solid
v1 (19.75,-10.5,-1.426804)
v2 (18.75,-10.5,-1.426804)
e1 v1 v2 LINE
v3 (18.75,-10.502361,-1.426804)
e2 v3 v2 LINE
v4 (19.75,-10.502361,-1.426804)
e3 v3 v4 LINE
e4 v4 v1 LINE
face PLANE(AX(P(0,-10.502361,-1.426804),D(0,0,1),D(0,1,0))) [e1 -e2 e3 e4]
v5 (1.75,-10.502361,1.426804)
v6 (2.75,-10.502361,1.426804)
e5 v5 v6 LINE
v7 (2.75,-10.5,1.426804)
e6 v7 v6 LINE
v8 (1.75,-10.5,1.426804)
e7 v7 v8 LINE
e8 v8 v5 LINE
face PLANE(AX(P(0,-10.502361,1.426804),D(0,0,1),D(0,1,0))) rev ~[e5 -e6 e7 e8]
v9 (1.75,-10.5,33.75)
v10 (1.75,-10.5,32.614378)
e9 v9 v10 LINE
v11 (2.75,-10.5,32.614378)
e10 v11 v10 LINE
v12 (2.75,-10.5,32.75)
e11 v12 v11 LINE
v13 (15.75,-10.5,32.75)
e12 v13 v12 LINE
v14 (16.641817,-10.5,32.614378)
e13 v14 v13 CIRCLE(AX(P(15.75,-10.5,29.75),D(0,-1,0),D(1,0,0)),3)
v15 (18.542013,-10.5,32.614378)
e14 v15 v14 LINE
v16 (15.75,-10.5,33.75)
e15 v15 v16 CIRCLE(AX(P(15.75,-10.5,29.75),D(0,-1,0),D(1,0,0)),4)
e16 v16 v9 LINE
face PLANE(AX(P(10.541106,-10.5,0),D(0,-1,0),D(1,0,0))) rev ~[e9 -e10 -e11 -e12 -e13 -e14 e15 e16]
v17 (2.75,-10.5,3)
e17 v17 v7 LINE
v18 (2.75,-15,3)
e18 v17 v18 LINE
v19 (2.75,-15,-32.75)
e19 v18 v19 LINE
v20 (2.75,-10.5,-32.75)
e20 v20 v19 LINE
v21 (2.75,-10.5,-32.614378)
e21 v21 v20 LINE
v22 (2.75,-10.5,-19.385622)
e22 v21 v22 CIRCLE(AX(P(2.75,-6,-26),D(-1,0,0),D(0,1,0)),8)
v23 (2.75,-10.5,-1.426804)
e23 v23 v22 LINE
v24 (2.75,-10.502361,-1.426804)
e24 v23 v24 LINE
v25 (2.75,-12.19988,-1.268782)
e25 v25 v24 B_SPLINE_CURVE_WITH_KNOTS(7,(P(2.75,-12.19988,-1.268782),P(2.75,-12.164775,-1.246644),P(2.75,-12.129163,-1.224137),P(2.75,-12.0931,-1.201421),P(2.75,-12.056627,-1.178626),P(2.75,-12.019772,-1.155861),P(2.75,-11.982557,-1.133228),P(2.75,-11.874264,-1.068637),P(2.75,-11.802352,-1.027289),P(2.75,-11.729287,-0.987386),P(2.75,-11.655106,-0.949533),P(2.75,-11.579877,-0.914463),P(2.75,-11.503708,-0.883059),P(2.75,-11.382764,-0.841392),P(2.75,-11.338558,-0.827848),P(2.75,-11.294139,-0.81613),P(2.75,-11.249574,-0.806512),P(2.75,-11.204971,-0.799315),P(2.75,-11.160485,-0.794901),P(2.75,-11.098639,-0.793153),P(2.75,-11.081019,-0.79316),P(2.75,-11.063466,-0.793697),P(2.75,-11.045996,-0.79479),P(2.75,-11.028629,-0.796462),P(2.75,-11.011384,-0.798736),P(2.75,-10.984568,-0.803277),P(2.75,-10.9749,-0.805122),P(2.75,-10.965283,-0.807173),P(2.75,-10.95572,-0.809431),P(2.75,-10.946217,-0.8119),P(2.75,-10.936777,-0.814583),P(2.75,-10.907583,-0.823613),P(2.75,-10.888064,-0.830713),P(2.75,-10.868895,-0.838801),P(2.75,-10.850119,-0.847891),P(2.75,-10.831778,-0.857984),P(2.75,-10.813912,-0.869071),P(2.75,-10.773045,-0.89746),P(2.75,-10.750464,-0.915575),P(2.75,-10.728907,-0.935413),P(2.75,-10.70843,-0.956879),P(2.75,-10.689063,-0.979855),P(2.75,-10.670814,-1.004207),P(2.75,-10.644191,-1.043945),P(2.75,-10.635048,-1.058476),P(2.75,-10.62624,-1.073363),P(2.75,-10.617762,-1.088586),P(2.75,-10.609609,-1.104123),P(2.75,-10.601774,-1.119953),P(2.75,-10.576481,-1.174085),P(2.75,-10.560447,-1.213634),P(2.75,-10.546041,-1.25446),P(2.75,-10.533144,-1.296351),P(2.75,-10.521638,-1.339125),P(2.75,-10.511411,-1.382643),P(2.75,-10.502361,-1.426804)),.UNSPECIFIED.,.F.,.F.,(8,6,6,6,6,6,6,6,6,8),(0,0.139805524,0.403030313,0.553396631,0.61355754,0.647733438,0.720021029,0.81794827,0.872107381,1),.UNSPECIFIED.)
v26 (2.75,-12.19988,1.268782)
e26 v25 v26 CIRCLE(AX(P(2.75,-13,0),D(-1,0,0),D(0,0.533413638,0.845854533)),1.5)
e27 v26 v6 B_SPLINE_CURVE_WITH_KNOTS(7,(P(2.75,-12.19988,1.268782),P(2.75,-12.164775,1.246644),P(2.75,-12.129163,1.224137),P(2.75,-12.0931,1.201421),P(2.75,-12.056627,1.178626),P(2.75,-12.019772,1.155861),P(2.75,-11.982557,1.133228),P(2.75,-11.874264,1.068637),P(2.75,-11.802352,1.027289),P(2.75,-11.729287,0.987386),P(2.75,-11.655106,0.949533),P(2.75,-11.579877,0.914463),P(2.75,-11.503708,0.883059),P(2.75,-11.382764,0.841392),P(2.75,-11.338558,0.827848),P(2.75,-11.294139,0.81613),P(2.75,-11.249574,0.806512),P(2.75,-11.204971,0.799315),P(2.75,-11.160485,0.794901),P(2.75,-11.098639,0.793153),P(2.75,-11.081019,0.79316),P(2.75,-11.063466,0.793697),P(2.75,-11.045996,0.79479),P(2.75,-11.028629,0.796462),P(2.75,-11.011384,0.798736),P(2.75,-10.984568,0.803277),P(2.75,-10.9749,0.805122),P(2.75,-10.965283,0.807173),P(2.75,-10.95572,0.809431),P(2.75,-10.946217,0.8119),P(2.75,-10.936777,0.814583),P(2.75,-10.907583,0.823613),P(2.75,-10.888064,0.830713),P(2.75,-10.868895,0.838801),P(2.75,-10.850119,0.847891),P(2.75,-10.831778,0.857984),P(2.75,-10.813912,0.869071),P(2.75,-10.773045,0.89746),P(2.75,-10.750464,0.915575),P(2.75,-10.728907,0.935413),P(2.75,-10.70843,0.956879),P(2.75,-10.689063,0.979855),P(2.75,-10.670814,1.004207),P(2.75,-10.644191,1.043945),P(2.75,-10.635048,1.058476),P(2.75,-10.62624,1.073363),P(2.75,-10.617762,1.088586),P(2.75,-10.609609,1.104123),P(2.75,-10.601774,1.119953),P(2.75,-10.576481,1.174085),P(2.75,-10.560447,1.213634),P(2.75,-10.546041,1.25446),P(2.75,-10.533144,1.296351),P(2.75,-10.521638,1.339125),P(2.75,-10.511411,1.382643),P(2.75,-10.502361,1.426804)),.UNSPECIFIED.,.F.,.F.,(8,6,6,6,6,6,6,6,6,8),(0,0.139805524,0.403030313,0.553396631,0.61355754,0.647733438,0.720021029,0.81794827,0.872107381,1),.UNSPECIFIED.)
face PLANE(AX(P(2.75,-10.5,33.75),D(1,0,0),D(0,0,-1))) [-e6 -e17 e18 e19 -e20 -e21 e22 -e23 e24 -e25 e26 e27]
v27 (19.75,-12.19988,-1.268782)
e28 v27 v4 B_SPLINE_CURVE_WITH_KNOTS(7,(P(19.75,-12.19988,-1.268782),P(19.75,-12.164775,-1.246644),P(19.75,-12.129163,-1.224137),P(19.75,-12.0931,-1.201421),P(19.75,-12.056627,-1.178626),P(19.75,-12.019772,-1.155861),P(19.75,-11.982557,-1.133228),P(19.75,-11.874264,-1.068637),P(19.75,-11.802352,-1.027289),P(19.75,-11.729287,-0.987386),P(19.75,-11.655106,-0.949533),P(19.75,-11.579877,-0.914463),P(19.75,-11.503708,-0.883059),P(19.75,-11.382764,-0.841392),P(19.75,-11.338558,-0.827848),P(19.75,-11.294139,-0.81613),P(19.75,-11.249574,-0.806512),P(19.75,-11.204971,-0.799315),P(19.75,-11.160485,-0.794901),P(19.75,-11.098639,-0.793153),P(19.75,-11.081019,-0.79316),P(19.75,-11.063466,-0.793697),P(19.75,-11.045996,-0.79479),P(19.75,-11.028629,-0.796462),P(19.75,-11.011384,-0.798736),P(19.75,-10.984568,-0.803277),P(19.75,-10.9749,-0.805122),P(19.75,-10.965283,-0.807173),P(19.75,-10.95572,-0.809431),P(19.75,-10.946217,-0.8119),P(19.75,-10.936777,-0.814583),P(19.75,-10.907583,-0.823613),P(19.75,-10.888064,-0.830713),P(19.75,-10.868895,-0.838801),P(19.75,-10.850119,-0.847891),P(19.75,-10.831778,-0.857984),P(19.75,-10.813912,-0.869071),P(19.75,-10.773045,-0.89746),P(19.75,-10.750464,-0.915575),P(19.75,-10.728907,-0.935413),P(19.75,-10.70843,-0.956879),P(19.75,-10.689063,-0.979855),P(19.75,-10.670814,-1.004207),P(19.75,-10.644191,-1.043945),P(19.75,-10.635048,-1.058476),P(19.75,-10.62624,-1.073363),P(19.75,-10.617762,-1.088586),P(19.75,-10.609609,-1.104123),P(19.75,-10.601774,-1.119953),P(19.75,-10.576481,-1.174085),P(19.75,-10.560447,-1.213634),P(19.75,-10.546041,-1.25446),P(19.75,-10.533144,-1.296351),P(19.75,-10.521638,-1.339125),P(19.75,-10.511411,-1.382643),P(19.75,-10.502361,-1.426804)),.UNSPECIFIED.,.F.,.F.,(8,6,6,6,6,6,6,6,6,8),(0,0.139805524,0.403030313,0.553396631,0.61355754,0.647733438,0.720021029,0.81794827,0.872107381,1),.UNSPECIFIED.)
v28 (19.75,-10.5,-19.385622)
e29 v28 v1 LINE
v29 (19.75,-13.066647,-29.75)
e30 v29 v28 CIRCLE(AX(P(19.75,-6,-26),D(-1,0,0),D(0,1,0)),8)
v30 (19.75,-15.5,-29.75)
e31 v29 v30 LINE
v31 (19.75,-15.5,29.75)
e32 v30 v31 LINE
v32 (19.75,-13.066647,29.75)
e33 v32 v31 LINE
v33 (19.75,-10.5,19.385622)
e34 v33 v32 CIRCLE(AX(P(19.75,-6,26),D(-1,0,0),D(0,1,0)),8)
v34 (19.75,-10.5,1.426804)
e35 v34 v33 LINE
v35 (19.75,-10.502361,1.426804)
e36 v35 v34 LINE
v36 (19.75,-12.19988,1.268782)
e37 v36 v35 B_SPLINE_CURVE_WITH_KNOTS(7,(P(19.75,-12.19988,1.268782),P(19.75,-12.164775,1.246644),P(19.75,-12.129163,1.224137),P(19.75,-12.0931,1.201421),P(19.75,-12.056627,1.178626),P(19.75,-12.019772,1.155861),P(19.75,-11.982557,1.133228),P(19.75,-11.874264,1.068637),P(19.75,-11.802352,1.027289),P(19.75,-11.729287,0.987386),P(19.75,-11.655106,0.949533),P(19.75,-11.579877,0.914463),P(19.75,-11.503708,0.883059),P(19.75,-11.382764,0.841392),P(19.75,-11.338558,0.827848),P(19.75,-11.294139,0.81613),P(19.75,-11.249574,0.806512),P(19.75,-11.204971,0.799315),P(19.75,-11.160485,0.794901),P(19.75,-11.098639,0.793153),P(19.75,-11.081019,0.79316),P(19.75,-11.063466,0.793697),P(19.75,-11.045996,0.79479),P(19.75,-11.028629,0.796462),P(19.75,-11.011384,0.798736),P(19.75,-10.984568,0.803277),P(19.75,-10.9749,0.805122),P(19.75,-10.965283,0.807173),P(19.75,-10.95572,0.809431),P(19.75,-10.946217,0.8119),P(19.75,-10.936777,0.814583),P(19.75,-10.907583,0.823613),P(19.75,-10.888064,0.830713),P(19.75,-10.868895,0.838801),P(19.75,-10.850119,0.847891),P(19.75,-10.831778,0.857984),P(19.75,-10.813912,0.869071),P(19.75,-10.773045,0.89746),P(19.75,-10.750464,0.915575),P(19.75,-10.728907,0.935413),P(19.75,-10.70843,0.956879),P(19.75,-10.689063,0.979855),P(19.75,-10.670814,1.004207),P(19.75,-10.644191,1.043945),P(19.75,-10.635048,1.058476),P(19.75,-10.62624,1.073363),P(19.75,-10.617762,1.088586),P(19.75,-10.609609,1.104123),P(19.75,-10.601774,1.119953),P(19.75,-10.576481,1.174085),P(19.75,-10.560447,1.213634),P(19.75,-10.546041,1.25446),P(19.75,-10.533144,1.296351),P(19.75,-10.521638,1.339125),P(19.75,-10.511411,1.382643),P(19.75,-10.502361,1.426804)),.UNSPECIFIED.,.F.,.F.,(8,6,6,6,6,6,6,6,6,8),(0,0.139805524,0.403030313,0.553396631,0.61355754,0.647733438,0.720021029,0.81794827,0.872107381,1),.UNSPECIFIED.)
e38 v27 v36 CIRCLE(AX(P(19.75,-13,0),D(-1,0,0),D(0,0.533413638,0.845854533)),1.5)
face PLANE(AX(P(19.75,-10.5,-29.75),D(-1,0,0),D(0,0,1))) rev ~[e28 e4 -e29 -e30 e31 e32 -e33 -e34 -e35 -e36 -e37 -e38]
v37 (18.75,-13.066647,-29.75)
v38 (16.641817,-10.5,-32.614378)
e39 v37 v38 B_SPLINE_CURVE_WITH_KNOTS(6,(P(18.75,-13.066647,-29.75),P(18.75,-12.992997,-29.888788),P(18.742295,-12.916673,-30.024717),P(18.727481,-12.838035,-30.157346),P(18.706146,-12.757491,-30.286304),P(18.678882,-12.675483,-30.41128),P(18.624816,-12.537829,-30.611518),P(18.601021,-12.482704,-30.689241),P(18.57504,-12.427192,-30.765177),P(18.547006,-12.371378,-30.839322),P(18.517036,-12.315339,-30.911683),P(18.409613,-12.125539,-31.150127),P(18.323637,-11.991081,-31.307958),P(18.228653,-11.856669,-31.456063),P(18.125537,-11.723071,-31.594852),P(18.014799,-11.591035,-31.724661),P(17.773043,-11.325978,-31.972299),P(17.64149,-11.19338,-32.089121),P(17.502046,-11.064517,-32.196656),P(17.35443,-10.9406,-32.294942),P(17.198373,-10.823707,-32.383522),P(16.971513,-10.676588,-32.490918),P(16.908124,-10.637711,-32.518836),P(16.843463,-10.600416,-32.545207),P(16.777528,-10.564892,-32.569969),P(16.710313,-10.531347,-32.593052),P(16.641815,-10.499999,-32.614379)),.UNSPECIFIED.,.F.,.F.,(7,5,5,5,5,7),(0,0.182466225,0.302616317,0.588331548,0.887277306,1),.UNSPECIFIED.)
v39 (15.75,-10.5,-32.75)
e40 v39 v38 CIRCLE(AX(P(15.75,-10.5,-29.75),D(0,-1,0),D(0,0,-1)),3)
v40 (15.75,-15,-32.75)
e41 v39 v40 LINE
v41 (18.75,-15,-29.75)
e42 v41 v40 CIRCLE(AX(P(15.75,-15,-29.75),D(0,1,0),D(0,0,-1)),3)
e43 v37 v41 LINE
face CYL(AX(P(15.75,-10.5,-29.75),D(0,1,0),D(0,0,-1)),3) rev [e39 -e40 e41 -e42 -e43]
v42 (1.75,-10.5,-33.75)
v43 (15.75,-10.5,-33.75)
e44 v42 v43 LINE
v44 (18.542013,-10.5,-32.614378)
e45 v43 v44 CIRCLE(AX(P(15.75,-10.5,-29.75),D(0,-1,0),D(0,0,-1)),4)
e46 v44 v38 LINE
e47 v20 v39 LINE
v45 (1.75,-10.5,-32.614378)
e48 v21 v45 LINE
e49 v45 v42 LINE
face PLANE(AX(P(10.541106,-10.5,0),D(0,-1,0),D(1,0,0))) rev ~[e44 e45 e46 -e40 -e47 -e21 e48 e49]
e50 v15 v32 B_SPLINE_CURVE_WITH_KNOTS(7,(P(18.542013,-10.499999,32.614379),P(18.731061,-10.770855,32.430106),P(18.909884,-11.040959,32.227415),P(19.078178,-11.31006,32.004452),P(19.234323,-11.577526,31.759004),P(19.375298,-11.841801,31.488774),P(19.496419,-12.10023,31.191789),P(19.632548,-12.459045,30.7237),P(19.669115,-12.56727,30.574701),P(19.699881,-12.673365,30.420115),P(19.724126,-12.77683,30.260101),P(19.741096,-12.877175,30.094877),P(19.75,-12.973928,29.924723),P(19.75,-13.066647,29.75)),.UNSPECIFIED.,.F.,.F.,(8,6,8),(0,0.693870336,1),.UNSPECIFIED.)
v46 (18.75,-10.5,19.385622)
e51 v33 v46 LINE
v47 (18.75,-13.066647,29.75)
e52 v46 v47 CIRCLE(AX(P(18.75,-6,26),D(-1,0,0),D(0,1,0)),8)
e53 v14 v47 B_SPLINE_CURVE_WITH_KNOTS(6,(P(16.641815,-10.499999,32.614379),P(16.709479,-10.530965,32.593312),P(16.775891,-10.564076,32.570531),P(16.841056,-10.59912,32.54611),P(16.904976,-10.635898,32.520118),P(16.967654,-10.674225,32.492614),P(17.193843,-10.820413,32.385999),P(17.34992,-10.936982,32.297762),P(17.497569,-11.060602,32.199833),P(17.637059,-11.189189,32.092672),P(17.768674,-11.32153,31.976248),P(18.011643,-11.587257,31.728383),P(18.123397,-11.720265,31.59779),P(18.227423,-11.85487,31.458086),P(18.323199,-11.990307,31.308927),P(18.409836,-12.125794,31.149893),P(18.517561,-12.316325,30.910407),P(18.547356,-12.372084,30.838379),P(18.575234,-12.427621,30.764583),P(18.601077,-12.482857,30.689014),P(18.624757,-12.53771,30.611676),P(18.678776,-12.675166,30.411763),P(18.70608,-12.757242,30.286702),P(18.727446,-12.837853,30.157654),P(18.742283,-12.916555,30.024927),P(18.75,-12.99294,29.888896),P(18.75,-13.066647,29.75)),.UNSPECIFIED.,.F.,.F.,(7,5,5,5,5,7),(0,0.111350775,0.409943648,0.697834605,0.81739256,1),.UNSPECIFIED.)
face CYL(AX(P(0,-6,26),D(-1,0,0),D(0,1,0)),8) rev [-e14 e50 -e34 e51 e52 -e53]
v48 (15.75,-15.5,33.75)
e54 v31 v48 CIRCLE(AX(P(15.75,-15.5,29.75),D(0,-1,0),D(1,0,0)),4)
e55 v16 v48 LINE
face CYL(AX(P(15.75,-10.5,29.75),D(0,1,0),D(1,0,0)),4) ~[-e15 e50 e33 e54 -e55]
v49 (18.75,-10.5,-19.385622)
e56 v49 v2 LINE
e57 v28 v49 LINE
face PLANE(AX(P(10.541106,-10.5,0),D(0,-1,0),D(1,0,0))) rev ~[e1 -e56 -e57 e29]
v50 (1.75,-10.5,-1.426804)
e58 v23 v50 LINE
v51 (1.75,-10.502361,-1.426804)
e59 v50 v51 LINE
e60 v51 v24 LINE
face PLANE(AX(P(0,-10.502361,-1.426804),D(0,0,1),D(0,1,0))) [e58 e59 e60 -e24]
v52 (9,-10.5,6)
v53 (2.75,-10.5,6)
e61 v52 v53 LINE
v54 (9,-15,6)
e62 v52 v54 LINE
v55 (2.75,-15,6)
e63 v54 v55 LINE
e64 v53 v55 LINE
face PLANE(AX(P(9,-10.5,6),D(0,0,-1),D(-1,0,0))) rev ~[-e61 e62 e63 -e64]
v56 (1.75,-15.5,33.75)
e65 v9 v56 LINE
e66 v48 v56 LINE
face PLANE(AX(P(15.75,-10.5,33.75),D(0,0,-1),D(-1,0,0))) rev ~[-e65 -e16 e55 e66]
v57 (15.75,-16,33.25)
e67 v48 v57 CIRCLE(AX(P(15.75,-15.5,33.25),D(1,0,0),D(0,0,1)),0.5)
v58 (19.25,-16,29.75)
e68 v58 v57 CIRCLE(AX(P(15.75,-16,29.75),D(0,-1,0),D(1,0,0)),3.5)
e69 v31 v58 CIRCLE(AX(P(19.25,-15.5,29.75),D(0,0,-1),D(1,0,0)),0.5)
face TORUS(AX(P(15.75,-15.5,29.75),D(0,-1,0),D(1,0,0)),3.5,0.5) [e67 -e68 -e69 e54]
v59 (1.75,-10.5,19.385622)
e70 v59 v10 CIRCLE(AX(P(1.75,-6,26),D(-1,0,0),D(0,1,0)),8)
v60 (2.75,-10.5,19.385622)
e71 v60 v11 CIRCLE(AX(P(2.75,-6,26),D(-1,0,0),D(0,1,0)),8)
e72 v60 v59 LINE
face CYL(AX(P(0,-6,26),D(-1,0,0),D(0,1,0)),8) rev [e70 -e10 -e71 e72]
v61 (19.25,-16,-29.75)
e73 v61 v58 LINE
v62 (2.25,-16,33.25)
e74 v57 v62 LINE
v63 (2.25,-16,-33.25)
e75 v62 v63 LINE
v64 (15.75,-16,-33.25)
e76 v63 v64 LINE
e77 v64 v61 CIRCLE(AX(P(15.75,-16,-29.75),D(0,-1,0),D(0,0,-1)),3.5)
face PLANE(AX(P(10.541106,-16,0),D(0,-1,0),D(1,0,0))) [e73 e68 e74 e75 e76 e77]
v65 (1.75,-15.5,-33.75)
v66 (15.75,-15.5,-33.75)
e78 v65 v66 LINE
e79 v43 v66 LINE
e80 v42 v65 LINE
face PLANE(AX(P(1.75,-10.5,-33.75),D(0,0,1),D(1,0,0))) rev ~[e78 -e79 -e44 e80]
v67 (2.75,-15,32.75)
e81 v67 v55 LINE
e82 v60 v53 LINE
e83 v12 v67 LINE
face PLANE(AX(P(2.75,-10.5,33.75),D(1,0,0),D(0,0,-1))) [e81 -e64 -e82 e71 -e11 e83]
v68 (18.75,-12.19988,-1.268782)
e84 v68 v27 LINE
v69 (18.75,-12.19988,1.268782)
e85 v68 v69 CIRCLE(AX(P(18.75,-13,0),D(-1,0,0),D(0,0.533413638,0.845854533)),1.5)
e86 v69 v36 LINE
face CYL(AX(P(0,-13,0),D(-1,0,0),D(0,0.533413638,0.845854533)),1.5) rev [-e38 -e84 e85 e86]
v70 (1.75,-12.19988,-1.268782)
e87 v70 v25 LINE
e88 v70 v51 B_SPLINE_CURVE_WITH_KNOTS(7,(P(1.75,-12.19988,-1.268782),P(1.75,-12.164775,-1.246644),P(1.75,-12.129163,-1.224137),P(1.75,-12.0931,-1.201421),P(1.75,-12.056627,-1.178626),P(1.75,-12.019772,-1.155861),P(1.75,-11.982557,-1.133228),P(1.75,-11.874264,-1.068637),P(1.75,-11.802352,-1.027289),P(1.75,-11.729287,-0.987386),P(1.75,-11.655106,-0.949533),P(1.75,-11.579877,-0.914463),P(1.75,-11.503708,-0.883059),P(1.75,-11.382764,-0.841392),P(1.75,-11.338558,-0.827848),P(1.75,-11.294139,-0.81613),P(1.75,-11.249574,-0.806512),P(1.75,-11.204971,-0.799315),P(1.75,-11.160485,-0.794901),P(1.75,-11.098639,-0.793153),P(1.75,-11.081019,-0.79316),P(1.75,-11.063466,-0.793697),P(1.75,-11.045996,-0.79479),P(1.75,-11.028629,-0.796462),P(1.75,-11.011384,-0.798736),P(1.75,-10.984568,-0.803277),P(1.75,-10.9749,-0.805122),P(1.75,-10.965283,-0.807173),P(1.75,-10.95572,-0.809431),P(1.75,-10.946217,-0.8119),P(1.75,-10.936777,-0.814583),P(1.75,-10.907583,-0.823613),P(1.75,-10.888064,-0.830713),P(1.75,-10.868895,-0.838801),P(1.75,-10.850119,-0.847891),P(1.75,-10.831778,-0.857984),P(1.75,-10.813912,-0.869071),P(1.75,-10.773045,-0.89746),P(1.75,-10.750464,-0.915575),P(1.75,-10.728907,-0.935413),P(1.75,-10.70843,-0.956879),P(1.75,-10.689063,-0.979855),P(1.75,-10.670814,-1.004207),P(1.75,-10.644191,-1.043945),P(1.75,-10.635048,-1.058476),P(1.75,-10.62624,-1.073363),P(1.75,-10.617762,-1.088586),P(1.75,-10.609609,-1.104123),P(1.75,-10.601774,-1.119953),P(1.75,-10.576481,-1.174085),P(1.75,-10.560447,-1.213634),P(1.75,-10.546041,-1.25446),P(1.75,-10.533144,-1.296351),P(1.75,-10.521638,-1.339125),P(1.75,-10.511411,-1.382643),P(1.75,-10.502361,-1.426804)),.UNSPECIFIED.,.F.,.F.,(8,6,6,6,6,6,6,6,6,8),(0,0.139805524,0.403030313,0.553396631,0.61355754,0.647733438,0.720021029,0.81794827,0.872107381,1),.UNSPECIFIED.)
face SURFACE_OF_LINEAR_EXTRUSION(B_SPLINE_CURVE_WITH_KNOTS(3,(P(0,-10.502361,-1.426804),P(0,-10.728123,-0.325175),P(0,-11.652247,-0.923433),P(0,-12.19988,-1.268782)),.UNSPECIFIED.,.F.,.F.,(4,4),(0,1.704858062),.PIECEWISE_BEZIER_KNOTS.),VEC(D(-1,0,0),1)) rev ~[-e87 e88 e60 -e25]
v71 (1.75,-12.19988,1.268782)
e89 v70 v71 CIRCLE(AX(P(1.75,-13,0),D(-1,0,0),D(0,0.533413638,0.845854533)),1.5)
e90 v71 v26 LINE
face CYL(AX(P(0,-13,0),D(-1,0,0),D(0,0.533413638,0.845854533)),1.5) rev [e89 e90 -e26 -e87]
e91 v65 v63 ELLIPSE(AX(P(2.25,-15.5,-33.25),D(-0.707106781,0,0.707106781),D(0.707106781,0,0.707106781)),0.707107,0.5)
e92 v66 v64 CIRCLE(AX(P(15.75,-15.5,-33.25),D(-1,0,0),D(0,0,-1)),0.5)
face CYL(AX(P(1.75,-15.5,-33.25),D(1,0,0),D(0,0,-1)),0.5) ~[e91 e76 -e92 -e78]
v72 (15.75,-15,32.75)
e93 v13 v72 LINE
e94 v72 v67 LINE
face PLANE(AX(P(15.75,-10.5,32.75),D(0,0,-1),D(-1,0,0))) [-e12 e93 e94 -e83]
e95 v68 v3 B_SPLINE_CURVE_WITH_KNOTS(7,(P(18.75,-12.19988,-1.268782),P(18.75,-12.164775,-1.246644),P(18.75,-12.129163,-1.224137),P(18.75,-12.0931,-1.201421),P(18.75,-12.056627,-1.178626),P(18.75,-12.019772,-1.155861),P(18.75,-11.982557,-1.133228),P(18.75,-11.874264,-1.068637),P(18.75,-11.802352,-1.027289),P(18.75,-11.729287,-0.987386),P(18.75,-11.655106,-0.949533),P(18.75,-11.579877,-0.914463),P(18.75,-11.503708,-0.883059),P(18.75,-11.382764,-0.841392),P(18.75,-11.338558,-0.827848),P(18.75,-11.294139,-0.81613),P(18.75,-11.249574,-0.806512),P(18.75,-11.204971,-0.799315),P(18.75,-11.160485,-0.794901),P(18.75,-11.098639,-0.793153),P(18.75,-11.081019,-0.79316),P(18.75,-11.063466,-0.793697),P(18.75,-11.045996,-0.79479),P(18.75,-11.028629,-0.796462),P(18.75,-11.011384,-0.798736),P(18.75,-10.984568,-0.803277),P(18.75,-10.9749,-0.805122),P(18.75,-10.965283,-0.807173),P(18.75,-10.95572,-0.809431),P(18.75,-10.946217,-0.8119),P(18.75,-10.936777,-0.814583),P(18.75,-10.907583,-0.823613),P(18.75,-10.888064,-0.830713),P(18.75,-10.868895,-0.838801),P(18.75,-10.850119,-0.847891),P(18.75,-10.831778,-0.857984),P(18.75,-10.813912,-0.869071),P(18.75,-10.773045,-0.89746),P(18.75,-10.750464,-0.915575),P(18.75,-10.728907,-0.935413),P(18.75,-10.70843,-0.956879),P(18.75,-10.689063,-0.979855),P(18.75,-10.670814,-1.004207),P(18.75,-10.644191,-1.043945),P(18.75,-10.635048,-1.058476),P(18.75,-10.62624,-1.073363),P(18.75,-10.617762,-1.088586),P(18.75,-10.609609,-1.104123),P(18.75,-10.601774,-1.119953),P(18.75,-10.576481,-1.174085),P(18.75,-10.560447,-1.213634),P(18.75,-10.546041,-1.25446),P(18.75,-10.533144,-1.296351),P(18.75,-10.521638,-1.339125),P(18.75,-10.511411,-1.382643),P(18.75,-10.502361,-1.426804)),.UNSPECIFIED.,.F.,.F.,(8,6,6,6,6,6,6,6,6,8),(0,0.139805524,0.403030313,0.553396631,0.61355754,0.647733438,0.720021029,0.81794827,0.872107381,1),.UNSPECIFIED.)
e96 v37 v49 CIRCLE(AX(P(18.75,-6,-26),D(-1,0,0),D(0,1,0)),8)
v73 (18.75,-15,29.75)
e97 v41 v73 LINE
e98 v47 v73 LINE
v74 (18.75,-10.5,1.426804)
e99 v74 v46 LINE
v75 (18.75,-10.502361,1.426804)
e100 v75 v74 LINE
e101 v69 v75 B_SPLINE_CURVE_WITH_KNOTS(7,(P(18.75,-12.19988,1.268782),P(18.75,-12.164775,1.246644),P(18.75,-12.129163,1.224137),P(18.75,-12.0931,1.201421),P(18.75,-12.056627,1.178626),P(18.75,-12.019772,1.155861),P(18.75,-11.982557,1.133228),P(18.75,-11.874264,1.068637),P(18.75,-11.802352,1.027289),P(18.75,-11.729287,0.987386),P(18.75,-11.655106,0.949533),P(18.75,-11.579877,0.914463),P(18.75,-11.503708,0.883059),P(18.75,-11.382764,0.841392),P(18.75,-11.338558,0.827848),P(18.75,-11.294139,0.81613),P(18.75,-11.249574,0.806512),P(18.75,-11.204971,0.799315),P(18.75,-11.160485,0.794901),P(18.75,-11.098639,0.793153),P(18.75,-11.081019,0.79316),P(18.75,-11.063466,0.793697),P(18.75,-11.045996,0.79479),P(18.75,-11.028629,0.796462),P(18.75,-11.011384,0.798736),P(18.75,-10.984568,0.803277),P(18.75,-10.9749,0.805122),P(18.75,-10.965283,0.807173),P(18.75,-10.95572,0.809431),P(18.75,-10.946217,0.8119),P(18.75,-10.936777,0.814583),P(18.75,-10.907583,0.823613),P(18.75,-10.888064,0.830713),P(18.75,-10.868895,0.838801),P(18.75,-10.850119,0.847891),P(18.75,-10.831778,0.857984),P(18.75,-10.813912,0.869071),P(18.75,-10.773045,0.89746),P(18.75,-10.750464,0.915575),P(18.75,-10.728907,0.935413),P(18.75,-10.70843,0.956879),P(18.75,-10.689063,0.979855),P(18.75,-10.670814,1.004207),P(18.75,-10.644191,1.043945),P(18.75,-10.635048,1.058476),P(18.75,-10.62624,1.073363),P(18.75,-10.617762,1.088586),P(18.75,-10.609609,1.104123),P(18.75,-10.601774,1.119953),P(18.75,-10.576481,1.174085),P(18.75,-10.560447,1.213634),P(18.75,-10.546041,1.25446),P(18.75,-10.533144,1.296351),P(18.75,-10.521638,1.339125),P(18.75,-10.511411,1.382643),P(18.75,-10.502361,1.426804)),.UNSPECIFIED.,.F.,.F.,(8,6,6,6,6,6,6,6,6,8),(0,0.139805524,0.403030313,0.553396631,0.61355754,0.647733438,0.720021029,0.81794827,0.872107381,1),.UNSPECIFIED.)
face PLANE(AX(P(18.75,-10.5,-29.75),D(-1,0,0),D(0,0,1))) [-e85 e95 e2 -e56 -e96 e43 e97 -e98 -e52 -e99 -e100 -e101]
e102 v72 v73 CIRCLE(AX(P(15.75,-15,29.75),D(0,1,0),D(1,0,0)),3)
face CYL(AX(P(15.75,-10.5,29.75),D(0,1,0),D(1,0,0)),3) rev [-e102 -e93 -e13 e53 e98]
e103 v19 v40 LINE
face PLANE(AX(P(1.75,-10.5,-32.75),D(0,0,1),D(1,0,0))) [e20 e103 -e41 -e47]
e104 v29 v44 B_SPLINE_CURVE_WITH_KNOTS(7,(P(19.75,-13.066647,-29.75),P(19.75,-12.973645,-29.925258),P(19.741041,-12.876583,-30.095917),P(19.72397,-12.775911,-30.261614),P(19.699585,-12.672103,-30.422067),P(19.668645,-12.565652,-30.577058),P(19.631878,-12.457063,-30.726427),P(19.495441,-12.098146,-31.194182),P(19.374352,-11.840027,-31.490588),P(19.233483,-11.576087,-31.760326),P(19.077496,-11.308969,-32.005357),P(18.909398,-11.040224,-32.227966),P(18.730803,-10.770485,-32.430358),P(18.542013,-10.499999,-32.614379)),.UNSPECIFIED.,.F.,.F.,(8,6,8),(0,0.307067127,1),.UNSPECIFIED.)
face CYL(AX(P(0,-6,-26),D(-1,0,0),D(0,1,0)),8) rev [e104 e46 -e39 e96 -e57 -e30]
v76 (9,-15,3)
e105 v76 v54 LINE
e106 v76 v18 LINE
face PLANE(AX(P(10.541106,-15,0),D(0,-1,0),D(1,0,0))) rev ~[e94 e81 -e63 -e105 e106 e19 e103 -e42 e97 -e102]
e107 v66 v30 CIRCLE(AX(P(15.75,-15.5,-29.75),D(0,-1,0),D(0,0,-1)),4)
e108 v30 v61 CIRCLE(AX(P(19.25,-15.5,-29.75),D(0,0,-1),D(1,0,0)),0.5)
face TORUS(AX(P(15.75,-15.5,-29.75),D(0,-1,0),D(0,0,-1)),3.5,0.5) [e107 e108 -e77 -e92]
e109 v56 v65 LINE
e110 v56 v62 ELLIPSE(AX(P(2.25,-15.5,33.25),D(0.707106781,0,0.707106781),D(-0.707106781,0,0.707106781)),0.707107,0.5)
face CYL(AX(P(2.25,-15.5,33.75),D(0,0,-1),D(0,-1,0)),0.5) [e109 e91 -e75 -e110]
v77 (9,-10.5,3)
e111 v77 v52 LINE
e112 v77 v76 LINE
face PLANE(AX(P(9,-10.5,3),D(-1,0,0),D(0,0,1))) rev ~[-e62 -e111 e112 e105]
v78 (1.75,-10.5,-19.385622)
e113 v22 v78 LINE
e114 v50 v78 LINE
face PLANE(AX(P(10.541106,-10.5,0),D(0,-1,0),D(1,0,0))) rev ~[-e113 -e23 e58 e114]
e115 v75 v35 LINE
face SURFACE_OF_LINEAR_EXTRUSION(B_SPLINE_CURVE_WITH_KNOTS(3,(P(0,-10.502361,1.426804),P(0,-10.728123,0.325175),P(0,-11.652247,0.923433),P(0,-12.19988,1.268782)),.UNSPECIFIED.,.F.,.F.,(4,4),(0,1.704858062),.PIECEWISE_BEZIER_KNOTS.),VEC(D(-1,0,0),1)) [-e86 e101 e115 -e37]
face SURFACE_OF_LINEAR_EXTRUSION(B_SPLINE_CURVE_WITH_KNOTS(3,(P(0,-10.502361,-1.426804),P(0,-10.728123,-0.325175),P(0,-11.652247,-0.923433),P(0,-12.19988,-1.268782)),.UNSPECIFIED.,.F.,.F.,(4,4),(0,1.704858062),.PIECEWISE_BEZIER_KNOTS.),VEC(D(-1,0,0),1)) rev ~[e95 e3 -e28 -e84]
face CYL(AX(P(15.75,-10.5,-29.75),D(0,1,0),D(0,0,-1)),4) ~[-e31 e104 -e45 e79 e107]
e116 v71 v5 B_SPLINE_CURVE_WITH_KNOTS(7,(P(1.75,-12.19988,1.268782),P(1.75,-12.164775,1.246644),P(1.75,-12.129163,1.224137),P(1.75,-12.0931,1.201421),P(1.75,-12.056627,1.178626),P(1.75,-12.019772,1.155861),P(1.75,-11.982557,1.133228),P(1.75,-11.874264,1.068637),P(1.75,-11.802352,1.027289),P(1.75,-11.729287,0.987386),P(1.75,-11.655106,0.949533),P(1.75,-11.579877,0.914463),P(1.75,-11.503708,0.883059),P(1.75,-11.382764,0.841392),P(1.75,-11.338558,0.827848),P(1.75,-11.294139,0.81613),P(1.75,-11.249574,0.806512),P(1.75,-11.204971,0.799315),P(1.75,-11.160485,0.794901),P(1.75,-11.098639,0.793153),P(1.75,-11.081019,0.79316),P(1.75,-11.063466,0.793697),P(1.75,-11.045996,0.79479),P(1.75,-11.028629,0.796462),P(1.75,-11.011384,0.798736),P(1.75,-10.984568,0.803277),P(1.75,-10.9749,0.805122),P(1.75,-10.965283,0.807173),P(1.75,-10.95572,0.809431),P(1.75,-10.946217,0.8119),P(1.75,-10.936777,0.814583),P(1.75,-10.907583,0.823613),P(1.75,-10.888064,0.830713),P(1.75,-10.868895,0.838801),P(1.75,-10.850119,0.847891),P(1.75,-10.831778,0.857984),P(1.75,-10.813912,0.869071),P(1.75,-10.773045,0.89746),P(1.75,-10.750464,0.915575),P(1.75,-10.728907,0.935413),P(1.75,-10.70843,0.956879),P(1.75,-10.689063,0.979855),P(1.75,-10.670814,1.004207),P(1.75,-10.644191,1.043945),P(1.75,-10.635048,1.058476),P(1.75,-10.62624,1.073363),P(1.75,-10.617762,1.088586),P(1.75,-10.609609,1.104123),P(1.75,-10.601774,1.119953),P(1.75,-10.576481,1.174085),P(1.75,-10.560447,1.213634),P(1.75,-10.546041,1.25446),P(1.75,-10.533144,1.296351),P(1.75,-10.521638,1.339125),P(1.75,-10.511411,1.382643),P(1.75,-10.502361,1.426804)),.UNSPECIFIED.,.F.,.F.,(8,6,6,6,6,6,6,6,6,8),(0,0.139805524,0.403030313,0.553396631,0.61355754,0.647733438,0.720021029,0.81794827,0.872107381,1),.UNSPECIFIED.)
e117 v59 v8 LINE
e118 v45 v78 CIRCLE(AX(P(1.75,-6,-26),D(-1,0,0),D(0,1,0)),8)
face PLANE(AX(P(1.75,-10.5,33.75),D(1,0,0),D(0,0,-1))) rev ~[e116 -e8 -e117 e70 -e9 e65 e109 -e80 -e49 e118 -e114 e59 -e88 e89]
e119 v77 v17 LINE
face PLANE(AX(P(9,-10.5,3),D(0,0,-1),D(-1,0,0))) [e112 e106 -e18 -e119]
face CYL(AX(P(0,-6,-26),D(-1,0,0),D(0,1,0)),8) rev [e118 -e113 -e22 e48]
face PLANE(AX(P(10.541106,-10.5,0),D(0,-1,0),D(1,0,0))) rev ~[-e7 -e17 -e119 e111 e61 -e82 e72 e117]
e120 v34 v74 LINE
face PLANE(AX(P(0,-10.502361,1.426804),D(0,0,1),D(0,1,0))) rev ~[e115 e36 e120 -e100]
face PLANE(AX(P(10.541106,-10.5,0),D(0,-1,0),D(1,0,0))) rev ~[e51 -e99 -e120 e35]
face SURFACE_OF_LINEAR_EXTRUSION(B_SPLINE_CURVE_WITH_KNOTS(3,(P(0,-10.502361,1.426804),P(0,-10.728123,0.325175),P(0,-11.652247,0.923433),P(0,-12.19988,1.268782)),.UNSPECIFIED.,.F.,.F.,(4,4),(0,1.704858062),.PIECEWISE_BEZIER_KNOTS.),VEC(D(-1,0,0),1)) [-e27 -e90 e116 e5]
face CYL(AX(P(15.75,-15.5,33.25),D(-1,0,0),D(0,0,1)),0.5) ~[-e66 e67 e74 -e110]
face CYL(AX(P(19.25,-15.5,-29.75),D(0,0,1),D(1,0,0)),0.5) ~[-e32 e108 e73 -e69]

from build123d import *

# Parameters (mm, degrees)
F1_START = 10.5
F1_DEPTH = 5.5
F3_T     = -1
F2_W     = 0.5200189474
F2_H     = 2.8536078758
F2_R     = 8
F4_DEPTH = 19.751
F5_R     = 0.5
F6_W     = 6.25
F6_H     = 3
F7_DEPTH = 4.5


with BuildPart() as f1:
    # F0 (on Front) → F1 (new body)
    with BuildSketch(Plane.XZ.offset(F1_START)):
        with BuildLine():
            Line((19.75, -29.75), (19.75, 29.75))
            ThreePointArc((19.75, 29.75), (18.5784271247, 32.5784271247), (15.75, 33.75))
            Line((15.75, 33.75), (1.75, 33.75))
            Line((1.75, 33.75), (1.75, -33.75))
            Line((1.75, -33.75), (15.75, -33.75))
            ThreePointArc((15.75, -33.75), (18.5784271247, -32.5784271247), (19.75, -29.75))
        make_face()
    extrude(amount=F1_DEPTH)

    # F3
    f3_openings = [f1.faces().sort_by_distance(p)[0] for p in [
        (10.703921, -10.5, 0),
    ]]
    offset(amount=F3_T, openings=f3_openings)

    # F2 (on Right) → F4 (cut, through all)
    with BuildSketch(Plane.YZ):
        with BuildLine():
            ThreePointArc((-12.1998795433, -1.2687817995), (-11.686573054, -0.7245064923), (-11.5, 0))
            ThreePointArc((-11.5, 0), (-11.686573054, 0.7245064923), (-12.1998795433, 1.2687817995))
            ThreePointArc((-12.1998795433, 1.2687817995), (-14.5, 0), (-12.1998795433, -1.2687817995))
        make_face()
        with BuildLine():
            ThreePointArc((-12.1998795433, 1.2687817995), (-11.686573054, 0.7245064923), (-11.5, 0))
            ThreePointArc((-11.5, 0), (-11.686573054, -0.7245064923), (-12.1998795433, -1.2687817995))
            add(Edge.make_bspline(
                [(-10.5023607609, -1.4268039379), (-10.7281226665, -0.325174944), (-11.6522471595, -0.9234333139), (-12.1998795433, -1.2687817995)],
                knots=[0, 0, 0, 0, 1.7048580623, 1.7048580623, 1.7048580623, 1.7048580623], degree=3))
            Line((-10.5023607609, -1.4268039379), (-10.5023607609, 1.4268039379))
            add(Edge.make_bspline(
                [(-10.5023607609, 1.4268039379), (-10.7281226665, 0.325174944), (-11.6522471595, 0.9234333139), (-12.1998795433, 1.2687817995)],
                knots=[0, 0, 0, 0, 1.7048580623, 1.7048580623, 1.7048580623, 1.7048580623], degree=3))
        make_face()
        with Locations((-10.2423512872, 0)):
            Rectangle(F2_W, F2_H)
        with Locations((-6, -26)):
            Circle(F2_R)
        with Locations((-6, 26)):
            Circle(F2_R)
    extrude(amount=F4_DEPTH, mode=Mode.SUBTRACT)

    # F5
    f5_edges = [f1.edges().sort_by_distance(p)[0] for p in [
        (19.75, -16, 0),
        (18.578427, -16, 32.578427),
        (8.75, -16, 33.75),
        (1.75, -16, 0),
        (8.75, -16, -33.75),
        (18.578427, -16, -32.578427),
    ]]
    fillet(f5_edges, radius=F5_R)

    # F6 (on face) → F7 (join, through all)
    with BuildSketch(Plane(origin=(0, -10.5, 0), x_dir=(-1, 0, 0), z_dir=(0, 1, 0))):
        with Locations((-5.875, 4.5)):
            Rectangle(F6_W, F6_H)
    extrude(amount=-F7_DEPTH)


solid = f1.part
